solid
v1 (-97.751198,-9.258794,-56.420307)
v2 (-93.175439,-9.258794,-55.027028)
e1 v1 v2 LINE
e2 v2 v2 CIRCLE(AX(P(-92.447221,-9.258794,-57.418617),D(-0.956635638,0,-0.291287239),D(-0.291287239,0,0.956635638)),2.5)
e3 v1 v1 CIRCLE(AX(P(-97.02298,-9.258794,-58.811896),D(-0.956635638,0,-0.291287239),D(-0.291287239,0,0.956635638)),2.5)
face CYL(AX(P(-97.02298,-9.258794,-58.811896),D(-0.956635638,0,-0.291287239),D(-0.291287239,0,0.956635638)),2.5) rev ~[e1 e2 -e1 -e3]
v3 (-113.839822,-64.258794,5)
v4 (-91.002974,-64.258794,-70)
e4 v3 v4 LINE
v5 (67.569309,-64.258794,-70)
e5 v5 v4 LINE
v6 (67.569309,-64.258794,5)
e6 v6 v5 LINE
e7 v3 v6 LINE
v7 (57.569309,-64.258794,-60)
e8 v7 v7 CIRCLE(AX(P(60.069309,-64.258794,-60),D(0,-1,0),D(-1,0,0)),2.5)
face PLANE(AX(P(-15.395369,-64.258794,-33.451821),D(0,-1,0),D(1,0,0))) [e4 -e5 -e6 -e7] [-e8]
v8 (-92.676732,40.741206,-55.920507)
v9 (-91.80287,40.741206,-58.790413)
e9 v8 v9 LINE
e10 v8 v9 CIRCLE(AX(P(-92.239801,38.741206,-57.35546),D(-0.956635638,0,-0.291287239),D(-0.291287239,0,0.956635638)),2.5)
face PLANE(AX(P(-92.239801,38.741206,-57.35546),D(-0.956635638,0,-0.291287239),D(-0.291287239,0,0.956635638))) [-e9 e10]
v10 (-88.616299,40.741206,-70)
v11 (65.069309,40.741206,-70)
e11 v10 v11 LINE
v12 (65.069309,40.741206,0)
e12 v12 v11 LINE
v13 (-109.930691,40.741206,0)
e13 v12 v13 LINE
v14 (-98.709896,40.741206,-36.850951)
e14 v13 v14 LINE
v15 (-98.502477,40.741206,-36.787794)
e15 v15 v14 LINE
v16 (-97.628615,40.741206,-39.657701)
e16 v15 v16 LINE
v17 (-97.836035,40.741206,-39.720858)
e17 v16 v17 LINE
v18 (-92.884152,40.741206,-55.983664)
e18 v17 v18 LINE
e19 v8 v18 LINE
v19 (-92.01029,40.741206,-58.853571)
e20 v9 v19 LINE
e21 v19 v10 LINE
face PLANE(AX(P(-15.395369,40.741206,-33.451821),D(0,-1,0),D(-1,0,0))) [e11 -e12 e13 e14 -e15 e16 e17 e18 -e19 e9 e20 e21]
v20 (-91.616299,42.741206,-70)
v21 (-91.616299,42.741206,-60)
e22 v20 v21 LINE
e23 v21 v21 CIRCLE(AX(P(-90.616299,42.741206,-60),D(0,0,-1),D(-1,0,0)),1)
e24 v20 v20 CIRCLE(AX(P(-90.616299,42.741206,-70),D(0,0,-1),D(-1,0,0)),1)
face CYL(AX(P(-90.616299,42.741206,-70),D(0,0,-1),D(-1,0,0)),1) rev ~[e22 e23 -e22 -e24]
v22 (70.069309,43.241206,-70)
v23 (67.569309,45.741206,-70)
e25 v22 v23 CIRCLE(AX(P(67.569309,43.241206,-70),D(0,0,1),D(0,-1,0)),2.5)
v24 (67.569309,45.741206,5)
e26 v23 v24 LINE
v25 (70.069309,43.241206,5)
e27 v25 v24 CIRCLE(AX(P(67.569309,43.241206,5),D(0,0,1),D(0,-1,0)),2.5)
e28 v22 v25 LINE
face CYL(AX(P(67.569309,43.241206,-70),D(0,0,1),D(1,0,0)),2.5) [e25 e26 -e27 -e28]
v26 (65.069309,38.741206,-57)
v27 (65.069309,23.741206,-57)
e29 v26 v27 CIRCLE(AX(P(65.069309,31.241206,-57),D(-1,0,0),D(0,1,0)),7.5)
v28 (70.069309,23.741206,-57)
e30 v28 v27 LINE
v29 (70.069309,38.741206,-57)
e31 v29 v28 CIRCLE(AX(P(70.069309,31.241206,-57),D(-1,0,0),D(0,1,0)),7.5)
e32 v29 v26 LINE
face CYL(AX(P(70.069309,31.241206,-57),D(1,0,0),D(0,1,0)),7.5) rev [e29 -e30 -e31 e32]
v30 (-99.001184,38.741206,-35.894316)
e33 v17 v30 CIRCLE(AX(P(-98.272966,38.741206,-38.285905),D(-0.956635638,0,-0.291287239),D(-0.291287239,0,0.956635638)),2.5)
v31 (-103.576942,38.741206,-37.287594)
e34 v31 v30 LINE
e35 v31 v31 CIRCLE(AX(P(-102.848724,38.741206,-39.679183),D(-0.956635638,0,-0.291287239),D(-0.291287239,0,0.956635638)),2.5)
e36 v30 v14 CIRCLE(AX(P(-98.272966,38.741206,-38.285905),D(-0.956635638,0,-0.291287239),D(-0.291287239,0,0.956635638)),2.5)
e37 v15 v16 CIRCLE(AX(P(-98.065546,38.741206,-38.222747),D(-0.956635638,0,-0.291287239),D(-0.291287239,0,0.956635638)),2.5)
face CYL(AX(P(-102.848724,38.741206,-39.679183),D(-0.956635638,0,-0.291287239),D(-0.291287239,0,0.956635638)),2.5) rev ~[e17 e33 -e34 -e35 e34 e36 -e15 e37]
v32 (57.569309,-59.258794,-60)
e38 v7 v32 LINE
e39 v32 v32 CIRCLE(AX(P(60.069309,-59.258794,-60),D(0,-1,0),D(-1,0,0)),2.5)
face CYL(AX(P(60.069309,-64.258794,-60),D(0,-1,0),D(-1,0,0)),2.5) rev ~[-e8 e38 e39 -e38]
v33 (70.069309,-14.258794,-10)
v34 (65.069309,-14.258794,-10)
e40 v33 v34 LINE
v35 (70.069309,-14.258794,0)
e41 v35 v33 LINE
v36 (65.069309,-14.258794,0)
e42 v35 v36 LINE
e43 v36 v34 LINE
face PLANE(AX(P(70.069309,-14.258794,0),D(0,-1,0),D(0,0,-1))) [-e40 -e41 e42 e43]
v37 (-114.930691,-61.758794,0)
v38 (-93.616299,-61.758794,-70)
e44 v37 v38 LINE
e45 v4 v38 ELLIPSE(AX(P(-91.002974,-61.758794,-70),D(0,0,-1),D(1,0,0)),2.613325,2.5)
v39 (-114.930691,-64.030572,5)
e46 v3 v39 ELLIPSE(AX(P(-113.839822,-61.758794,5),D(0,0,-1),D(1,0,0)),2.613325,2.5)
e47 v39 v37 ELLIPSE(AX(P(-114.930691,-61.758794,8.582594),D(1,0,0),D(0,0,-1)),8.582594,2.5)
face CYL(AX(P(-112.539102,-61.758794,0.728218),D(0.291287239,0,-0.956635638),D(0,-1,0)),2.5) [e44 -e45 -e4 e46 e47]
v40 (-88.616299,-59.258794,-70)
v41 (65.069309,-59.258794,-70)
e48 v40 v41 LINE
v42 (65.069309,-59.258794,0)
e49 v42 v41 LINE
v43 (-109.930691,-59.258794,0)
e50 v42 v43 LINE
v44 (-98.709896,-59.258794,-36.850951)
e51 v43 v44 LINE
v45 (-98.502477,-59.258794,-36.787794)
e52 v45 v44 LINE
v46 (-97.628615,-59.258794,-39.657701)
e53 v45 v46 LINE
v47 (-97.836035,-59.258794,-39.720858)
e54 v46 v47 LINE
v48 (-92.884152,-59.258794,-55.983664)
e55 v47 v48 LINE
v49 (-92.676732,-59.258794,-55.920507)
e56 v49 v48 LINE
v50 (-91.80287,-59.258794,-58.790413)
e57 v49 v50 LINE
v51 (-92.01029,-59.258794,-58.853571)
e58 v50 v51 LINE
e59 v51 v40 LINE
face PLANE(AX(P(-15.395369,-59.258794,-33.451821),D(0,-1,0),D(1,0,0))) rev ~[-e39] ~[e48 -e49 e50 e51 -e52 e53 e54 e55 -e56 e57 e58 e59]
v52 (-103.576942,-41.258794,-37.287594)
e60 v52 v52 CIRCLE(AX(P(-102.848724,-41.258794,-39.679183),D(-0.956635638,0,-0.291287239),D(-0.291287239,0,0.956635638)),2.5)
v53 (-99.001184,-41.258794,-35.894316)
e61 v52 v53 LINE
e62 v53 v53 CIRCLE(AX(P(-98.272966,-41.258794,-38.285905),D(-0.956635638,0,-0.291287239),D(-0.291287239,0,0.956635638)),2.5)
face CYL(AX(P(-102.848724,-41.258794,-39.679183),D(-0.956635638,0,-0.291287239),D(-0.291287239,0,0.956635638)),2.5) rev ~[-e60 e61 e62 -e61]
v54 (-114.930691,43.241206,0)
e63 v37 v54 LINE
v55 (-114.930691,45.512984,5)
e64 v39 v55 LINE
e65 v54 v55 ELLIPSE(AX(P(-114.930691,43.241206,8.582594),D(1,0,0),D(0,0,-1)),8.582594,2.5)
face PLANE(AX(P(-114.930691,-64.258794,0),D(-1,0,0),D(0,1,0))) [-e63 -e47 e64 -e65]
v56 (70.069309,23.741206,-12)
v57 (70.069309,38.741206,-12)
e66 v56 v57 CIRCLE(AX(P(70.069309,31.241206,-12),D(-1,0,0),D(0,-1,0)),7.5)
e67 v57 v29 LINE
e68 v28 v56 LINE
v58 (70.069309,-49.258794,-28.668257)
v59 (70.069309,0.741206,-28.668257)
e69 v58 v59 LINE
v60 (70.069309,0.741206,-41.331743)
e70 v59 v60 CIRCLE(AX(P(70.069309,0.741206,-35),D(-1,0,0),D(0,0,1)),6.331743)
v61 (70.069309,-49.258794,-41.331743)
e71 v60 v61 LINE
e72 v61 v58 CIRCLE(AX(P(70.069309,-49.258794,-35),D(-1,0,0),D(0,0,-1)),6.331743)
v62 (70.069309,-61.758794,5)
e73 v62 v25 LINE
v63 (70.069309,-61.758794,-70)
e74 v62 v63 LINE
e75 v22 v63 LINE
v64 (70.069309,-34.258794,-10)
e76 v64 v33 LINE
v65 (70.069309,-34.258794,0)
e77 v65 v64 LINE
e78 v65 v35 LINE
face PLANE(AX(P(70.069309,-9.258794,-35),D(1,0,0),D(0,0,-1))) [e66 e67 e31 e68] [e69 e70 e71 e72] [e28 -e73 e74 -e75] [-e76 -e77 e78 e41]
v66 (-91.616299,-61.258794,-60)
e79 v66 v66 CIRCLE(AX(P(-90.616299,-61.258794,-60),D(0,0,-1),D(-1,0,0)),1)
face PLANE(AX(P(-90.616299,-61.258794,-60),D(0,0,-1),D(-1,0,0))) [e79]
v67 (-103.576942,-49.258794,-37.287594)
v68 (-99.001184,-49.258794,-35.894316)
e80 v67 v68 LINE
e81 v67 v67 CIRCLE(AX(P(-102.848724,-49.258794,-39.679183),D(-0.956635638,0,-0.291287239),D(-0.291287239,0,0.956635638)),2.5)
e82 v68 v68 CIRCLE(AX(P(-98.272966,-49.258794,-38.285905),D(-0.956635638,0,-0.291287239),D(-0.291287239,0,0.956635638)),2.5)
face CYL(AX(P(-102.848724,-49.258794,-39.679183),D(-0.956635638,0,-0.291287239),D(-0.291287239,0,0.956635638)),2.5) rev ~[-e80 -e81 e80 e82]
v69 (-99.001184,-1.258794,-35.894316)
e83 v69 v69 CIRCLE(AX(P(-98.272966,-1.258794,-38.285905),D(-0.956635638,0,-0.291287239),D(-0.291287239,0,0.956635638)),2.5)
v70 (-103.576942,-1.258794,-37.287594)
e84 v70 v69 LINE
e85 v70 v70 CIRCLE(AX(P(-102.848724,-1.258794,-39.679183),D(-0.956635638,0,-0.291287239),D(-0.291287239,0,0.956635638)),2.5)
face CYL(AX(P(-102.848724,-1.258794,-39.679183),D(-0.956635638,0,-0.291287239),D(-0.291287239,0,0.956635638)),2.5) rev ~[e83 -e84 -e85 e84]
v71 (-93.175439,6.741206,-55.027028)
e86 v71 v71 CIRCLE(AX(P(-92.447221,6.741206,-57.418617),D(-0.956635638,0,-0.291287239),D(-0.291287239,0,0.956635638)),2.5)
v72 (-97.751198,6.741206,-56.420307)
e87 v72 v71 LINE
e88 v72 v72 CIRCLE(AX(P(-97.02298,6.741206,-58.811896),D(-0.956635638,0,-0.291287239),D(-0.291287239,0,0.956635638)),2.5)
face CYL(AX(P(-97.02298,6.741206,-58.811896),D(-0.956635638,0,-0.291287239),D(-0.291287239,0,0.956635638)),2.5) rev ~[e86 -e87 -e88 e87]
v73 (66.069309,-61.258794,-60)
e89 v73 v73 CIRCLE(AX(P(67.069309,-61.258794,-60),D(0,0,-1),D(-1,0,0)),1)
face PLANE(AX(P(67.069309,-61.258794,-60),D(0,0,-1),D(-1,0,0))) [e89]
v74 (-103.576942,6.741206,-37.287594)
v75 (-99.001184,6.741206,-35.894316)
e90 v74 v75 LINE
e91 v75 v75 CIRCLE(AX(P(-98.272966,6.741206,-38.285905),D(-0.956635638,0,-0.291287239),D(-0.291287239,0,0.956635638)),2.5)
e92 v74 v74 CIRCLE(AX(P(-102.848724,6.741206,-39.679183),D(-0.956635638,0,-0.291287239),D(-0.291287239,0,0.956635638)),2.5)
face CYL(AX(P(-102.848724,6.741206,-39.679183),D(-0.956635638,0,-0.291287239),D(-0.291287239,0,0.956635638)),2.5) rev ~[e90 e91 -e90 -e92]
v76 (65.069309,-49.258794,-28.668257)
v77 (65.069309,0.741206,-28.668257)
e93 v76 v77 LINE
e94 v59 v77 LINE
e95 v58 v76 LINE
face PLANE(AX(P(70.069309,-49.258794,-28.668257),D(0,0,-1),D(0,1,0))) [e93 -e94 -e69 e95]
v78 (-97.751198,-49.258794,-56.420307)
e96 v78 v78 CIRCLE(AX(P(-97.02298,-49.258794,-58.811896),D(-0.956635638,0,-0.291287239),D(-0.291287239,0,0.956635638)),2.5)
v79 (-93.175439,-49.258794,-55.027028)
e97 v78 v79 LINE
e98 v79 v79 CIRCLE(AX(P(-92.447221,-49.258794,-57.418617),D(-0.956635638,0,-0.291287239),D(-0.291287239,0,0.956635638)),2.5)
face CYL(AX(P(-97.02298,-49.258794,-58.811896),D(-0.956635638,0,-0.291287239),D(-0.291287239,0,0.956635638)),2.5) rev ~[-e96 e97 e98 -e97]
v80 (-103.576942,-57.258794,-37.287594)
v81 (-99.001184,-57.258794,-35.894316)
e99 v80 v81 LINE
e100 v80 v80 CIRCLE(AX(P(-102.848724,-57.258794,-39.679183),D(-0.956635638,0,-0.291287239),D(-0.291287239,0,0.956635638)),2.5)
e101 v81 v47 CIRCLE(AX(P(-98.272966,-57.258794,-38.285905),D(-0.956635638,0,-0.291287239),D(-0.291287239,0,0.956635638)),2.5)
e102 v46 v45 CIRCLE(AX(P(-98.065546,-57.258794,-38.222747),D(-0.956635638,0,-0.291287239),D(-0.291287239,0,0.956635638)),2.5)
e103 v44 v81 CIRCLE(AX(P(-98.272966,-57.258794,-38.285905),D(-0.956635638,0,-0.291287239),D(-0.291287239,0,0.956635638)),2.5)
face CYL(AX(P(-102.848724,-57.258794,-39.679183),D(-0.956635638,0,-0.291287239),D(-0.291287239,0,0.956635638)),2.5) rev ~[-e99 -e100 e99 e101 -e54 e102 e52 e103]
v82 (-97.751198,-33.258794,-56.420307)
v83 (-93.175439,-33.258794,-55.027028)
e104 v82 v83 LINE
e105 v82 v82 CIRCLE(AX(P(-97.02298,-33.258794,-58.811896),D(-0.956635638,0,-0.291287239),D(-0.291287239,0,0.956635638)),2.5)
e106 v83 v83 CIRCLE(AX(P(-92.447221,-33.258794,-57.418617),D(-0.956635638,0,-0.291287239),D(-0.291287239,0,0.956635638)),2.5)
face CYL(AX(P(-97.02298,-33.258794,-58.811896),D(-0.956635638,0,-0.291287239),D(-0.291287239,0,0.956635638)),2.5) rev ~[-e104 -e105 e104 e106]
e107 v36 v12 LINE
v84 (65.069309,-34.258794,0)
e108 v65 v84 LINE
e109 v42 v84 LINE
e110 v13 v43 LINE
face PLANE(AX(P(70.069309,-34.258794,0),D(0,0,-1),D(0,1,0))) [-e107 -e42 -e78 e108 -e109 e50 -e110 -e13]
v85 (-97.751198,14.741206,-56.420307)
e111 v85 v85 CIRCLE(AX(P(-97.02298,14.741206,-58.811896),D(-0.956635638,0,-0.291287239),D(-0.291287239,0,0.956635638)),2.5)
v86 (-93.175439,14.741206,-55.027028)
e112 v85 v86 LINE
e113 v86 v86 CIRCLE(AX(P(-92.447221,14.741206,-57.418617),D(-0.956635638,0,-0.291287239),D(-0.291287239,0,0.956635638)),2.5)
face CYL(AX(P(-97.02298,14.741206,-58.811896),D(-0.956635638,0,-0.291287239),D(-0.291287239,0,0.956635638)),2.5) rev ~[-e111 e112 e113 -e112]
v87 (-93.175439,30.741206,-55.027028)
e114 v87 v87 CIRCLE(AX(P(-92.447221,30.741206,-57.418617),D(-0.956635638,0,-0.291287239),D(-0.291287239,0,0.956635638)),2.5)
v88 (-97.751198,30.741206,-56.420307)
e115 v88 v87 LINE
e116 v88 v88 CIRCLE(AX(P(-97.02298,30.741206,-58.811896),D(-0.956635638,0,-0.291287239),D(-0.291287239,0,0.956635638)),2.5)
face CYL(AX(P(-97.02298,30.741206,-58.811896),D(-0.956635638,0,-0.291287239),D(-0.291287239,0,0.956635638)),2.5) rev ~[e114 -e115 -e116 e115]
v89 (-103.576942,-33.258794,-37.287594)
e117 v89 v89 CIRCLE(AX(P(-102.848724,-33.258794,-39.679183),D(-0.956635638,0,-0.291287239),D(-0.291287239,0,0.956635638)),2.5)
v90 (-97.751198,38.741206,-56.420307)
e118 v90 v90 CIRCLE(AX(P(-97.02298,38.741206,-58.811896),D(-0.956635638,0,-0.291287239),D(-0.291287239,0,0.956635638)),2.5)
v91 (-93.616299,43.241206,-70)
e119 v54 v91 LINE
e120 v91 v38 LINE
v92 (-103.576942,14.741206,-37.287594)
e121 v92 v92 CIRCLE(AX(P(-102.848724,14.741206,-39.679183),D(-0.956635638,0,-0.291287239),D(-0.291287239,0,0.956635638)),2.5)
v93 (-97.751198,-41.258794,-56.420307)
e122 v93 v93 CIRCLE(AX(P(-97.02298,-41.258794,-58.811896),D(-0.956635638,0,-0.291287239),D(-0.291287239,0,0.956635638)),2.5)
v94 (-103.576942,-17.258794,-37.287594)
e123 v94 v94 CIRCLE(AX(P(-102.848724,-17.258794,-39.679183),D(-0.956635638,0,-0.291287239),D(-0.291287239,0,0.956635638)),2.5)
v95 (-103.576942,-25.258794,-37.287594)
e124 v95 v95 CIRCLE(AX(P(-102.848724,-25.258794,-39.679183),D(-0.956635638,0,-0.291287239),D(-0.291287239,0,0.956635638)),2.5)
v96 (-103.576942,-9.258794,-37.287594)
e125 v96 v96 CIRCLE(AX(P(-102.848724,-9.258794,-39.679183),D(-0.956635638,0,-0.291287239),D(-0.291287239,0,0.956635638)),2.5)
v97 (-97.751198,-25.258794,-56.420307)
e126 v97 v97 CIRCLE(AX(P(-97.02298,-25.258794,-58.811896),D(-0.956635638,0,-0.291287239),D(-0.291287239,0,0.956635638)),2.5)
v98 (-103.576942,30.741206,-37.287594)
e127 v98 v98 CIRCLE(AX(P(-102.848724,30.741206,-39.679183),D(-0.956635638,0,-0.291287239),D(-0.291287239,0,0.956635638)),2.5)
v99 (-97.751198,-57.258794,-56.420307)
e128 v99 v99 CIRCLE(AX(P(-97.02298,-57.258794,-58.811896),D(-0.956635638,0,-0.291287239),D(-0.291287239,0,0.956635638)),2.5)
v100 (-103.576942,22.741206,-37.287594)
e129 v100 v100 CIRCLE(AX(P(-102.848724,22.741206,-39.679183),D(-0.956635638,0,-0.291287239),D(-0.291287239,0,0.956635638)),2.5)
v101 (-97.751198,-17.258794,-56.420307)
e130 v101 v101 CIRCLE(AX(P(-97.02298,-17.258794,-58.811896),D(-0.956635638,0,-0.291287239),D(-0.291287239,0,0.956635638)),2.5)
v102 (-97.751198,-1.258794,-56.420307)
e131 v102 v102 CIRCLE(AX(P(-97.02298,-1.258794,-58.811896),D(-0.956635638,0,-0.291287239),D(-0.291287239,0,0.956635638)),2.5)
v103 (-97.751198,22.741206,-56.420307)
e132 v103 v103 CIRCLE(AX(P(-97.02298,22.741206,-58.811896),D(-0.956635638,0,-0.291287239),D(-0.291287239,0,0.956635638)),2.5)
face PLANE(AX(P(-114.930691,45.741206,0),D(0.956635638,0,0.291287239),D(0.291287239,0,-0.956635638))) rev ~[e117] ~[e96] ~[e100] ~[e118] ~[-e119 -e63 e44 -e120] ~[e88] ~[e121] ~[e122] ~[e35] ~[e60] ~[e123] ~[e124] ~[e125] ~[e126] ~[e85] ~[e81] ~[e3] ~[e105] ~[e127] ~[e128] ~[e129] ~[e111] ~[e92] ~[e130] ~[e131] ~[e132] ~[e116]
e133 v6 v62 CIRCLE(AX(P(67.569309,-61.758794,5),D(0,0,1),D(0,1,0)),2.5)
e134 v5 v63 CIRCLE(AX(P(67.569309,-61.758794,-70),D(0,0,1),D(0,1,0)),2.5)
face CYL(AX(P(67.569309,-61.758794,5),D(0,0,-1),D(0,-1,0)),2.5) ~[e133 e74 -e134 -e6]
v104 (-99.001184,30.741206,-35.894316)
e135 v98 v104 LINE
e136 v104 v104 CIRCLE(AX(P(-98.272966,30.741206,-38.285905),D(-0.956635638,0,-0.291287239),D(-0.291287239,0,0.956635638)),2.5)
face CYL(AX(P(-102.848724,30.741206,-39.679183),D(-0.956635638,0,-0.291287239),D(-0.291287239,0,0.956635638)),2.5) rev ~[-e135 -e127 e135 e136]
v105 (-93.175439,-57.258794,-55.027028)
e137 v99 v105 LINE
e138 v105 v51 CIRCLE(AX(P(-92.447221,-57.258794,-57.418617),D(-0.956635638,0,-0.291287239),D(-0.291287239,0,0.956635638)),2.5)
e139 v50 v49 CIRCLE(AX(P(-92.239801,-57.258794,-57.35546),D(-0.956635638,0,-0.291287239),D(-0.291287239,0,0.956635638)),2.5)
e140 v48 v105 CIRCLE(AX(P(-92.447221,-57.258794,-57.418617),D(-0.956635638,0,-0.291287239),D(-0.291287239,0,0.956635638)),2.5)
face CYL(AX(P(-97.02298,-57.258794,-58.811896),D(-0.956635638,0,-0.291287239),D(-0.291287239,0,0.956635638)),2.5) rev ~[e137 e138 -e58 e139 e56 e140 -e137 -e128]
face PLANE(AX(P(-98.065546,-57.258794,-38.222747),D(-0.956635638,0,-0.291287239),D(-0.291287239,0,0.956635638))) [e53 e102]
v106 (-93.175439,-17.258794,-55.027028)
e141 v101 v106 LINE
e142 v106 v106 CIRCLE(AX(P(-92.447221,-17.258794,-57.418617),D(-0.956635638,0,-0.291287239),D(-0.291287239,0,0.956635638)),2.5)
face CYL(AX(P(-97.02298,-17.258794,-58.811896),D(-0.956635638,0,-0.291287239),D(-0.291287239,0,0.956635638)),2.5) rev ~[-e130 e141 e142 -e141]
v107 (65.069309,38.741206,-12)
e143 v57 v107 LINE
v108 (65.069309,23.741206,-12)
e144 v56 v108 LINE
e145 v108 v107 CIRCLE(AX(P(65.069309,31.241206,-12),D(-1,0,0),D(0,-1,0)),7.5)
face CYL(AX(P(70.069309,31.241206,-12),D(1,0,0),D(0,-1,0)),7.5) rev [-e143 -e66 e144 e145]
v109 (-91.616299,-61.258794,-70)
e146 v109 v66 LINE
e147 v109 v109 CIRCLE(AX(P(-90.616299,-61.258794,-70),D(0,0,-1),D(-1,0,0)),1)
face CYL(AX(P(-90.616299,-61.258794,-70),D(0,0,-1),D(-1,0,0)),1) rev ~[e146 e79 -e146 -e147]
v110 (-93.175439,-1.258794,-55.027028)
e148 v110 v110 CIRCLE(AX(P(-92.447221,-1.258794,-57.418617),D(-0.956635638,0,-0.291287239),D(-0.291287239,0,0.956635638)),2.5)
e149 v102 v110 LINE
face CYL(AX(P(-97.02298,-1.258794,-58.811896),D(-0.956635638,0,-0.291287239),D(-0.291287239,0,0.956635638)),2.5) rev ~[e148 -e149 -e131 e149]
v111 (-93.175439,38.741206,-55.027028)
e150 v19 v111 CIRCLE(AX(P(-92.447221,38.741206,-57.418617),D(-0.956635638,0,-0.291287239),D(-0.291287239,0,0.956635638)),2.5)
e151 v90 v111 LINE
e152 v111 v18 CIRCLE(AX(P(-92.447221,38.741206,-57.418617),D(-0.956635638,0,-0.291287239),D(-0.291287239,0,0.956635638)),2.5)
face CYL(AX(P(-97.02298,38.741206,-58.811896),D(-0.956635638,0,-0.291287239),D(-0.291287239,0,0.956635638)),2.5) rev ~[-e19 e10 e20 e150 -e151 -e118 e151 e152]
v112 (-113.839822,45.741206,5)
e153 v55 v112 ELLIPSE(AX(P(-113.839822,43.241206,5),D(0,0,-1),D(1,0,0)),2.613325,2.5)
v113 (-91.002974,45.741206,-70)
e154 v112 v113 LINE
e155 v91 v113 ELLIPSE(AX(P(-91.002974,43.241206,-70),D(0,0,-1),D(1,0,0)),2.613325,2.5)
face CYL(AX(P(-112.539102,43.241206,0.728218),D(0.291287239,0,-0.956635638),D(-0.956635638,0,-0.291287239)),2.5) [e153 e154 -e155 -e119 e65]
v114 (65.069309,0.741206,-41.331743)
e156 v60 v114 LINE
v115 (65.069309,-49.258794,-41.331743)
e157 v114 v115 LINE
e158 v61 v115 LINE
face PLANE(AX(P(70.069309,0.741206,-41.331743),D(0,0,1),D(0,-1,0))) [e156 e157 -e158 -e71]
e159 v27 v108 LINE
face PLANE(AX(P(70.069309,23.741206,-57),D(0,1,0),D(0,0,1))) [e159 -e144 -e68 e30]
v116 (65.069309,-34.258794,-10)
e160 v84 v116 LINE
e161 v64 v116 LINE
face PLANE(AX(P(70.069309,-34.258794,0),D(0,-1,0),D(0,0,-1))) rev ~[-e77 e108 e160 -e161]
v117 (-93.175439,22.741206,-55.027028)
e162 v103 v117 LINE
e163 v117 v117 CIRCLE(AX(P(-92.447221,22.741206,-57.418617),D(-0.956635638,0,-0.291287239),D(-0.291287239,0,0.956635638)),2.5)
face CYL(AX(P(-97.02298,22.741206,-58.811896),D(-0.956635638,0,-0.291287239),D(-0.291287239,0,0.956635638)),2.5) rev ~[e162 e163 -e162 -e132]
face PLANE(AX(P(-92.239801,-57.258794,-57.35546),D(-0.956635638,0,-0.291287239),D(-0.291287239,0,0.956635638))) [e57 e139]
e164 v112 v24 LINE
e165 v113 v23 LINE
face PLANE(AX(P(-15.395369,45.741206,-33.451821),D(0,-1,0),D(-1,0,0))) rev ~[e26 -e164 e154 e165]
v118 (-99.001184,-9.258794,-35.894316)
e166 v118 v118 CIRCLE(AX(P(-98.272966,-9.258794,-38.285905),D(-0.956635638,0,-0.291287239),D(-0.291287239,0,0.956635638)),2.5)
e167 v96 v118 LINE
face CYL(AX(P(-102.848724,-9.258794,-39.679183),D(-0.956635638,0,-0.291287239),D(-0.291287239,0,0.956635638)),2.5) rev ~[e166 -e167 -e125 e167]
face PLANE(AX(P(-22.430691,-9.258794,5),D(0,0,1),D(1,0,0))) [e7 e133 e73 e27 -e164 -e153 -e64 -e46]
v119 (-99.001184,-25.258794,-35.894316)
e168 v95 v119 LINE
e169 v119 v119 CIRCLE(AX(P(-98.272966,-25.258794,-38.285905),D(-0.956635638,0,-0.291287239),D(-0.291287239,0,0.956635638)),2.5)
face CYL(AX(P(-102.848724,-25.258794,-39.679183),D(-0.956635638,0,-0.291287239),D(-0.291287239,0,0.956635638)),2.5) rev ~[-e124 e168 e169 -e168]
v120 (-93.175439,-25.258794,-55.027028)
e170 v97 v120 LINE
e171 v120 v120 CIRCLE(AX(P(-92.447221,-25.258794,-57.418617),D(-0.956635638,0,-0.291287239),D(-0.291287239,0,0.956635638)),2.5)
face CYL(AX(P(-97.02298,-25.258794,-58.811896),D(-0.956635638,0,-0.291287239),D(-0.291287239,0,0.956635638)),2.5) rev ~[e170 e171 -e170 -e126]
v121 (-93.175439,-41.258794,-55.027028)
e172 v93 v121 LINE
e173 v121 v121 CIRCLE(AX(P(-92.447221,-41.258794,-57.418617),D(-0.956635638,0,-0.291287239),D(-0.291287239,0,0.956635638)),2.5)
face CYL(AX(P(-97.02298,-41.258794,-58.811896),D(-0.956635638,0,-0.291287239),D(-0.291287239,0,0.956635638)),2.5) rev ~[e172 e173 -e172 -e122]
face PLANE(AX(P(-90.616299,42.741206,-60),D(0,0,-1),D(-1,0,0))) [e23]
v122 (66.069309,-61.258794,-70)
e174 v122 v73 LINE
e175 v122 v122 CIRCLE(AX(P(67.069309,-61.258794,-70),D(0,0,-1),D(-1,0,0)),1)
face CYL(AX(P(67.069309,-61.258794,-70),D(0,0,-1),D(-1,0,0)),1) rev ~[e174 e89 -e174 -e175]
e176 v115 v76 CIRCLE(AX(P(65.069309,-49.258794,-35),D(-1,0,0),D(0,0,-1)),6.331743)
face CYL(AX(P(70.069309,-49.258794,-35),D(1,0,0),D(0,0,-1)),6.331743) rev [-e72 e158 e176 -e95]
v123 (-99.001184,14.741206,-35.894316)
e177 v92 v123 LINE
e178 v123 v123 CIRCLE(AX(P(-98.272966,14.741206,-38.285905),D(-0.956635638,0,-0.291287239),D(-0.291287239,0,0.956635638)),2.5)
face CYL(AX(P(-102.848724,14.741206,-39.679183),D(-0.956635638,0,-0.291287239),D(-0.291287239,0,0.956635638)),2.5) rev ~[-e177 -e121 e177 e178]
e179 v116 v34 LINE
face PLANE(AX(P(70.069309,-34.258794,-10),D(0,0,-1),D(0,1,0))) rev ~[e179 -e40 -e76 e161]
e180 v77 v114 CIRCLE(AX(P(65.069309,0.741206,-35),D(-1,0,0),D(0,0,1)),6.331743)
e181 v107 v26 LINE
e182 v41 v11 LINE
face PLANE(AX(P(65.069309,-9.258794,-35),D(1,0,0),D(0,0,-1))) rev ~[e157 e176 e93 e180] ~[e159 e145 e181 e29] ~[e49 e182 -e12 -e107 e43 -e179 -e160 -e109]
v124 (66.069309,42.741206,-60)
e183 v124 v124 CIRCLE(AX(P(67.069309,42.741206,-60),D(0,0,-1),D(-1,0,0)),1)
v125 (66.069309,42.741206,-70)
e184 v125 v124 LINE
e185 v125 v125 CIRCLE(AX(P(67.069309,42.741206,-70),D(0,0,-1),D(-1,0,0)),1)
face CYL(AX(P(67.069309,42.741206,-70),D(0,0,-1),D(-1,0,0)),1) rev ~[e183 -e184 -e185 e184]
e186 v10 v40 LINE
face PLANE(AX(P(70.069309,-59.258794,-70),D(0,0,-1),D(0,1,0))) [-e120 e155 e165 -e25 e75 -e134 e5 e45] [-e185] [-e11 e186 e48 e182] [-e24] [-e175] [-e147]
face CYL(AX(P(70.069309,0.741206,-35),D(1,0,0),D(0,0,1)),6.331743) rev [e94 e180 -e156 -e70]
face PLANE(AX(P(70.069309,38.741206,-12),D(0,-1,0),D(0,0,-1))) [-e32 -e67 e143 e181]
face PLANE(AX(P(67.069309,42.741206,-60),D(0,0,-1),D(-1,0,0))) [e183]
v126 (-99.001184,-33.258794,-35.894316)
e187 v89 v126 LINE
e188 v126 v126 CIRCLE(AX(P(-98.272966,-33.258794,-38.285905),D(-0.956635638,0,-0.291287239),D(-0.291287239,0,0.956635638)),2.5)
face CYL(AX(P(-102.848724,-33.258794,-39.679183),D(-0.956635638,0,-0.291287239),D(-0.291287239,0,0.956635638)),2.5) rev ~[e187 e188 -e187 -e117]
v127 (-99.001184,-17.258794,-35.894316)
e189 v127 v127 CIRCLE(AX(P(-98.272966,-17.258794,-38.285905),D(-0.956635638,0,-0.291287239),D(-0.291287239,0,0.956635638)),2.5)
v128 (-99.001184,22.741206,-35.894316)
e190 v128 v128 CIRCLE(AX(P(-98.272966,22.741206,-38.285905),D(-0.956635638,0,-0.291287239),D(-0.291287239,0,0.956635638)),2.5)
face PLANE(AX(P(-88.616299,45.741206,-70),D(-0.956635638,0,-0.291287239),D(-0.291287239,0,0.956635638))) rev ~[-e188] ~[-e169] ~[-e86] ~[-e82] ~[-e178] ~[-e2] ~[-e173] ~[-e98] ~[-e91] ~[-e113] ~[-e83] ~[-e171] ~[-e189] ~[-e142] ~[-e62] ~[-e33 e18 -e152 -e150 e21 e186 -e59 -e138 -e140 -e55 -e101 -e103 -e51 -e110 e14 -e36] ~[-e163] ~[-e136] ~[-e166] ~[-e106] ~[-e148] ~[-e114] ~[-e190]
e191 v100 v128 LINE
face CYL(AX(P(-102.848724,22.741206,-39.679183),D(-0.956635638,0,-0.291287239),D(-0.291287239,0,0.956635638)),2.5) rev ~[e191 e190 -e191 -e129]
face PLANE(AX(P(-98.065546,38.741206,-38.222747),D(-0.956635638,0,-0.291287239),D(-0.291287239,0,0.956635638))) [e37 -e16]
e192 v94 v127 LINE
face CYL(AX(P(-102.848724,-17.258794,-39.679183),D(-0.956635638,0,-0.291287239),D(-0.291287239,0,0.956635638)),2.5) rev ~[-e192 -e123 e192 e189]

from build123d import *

# Parameters (mm, degrees)
ESQUISSE1_W             = 185
ESQUISSE1_H             = 110
BOSS_EXTRU_1_DEPTH      = 5
BOSS_EXTRU_2_DEPTH      = 110
BOSS_EXTRU_3_DEPTH      = 5
BOSS_EXTRU_4_DEPTH      = 5
ESQUISSE8_W             = 70
ESQUISSE8_H             = 100
BOSS_EXTRU_6_DEPTH      = 5
ESQUISSE10_R            = 2.5
ENL_V_MAT_EXTRU_1_DEPTH = 5
ESQUISSE13_R            = 1
ENL_V_MAT_EXTRU_2_DEPTH = 10
ESQUISSE15_W            = 10
ESQUISSE15_H            = 20
ENL_V_MAT_EXTRU_3_DEPTH = 10
ESQUISSE14_R            = 2.5
ENL_V_MAT_EXTRU_4_DEPTH = 10
CONG_2_R                = 2.5
CONG_3_R                = 2.5
CONG_4_R                = 2.5
CONG_5_R                = 2.5


with BuildPart() as part:
    # Esquisse1 → Boss.-Extru.1 (new body)
    with BuildSketch(Plane.XY):
        with Locations((-22.430690869, -9.25879397)):
            Rectangle(ESQUISSE1_W, ESQUISSE1_H)
    extrude(amount=BOSS_EXTRU_1_DEPTH)

    # Esquisse3 → Boss.-Extru.2 (add)
    with BuildSketch(Plane(origin=(0, 45.74120603, 0), x_dir=(1, 0, 0), z_dir=(0, 1, 0))):
        Polygon((-114.930690869, 0), (-93.616299119, 70), (-88.616299119, 70), (-109.930690869, 0), align=None)
    extrude(amount=-BOSS_EXTRU_2_DEPTH)

    # Esquisse4 → Boss.-Extru.3 (add)
    with BuildSketch(Plane(origin=(0, 45.74120603, 0), x_dir=(1, 0, 0), z_dir=(0, 1, 0))):
        Polygon((-109.930690869, 0), (-88.616299119, 70), (70.069309131, 70), (70.069309131, 0), align=None)
    extrude(amount=-BOSS_EXTRU_3_DEPTH)

    # Esquisse7 → Boss.-Extru.4 (add)
    with BuildSketch(Plane.XZ.offset(64.25879397)):
        Polygon((-109.930690869, 0), (-88.616299119, -70), (70.069309131, -70), (70.069309131, 0), align=None)
    extrude(amount=-BOSS_EXTRU_4_DEPTH)

    # Esquisse8 → Boss.-Extru.6 (add)
    with BuildSketch(Plane(origin=(70.069309131, 0, 0), x_dir=(0, 0, -1), z_dir=(1, 0, 0))):
        with Locations((35, -9.25879397)):
            Rectangle(ESQUISSE8_W, ESQUISSE8_H)
        with BuildLine():
            Line((41.331742872, 0.74120603), (41.331742872, -49.25879397))
            ThreePointArc((41.331742872, -49.25879397), (35, -55.590536842), (28.668257128, -49.25879397))
            Line((28.668257128, -49.25879397), (28.668257128, 0.74120603))
            ThreePointArc((28.668257128, 0.74120603), (35, 7.072948902), (41.331742872, 0.74120603))
        make_face(mode=Mode.SUBTRACT)
        with BuildLine():
            Line((12, 38.74120603), (57, 38.74120603))
            ThreePointArc((57, 38.74120603), (64.5, 31.24120603), (57, 23.74120603))
            Line((57, 23.74120603), (12, 23.74120603))
            ThreePointArc((12, 23.74120603), (4.5, 31.24120603), (12, 38.74120603))
        make_face(mode=Mode.SUBTRACT)
    extrude(amount=-BOSS_EXTRU_6_DEPTH)

    # Esquisse10 → Enlèv. mat.-Extru.1 (cut)
    with BuildSketch(Plane(origin=(-105.179022211, 0, -32.026098333), x_dir=(-0.291287239, 0, 0.956635638), z_dir=(-0.956635638, 0, -0.291287239))):
        with Locations((-8, 38.74120603)):
            Circle(ESQUISSE10_R)
        with Locations((-8, 30.74120603)):
            Circle(ESQUISSE10_R)
        with Locations((-8, 22.74120603)):
            Circle(ESQUISSE10_R)
        with Locations((-8, 14.74120603)):
            Circle(ESQUISSE10_R)
        with Locations((-8, 6.74120603)):
            Circle(ESQUISSE10_R)
        with Locations((-8, -1.25879397)):
            Circle(ESQUISSE10_R)
        with Locations((-8, -9.25879397)):
            Circle(ESQUISSE10_R)
        with Locations((-8, -17.25879397)):
            Circle(ESQUISSE10_R)
        with Locations((-8, -25.25879397)):
            Circle(ESQUISSE10_R)
        with Locations((-8, -33.25879397)):
            Circle(ESQUISSE10_R)
        with Locations((-8, -41.25879397)):
            Circle(ESQUISSE10_R)
        with Locations((-8, -49.25879397)):
            Circle(ESQUISSE10_R)
        with Locations((-8, -57.25879397)):
            Circle(ESQUISSE10_R)
        with Locations((-28, -57.25879397)):
            Circle(ESQUISSE10_R)
        with Locations((-28, -49.25879397)):
            Circle(ESQUISSE10_R)
        with Locations((-28, -41.25879397)):
            Circle(ESQUISSE10_R)
        with Locations((-28, -9.25879397)):
            Circle(ESQUISSE10_R)
        with Locations((-28, -17.25879397)):
            Circle(ESQUISSE10_R)
        with Locations((-28, -25.25879397)):
            Circle(ESQUISSE10_R)
        with Locations((-28, -33.25879397)):
            Circle(ESQUISSE10_R)
        with Locations((-28, -1.25879397)):
            Circle(ESQUISSE10_R)
        with Locations((-28, 6.74120603)):
            Circle(ESQUISSE10_R)
        with Locations((-28, 14.74120603)):
            Circle(ESQUISSE10_R)
        with Locations((-28, 22.74120603)):
            Circle(ESQUISSE10_R)
        with Locations((-28, 30.74120603)):
            Circle(ESQUISSE10_R)
        with Locations((-28, 38.74120603)):
            Circle(ESQUISSE10_R)
    extrude(amount=-ENL_V_MAT_EXTRU_1_DEPTH, mode=Mode.SUBTRACT)

    # Esquisse13 → Enlèv. mat.-Extru.2 (cut)
    with BuildSketch(Plane(origin=(0, 0, -70), x_dir=(-1, 0, 0), z_dir=(0, 0, -1))):
        with Locations((-67.069309131, 42.74120603)):
            Circle(ESQUISSE13_R)
        with Locations((-67.069309131, -61.25879397)):
            Circle(ESQUISSE13_R)
        with Locations((90.616299119, -61.25879397)):
            Circle(ESQUISSE13_R)
        with Locations((90.616299119, 42.74120603)):
            Circle(ESQUISSE13_R)
    extrude(amount=-ENL_V_MAT_EXTRU_2_DEPTH, mode=Mode.SUBTRACT)

    # Esquisse15 → Enlèv. mat.-Extru.3 (cut)
    with BuildSketch(Plane(origin=(70.069309131, 0, 0), x_dir=(0, 0, -1), z_dir=(1, 0, 0))):
        with Locations((5, -24.25879397)):
            Rectangle(ESQUISSE15_W, ESQUISSE15_H)
    extrude(amount=-ENL_V_MAT_EXTRU_3_DEPTH, mode=Mode.SUBTRACT)

    # Esquisse14 → Enlèv. mat.-Extru.4 (cut)
    with BuildSketch(Plane(origin=(0, -64.25879397, 0), x_dir=(-1, 0, 0), z_dir=(0, -1, 0))):
        with Locations((-60.069309131, 60)):
            Circle(ESQUISSE14_R)
    extrude(amount=-ENL_V_MAT_EXTRU_4_DEPTH, mode=Mode.SUBTRACT)

    # Congé2
    cong_2_edges = [part.edges().sort_by_distance(p)[0] for p in [
        (-104.273494994, -64.25879397, -35),
    ]]
    fillet(cong_2_edges, radius=CONG_2_R)

    # Congé3
    cong_3_edges = [part.edges().sort_by_distance(p)[0] for p in [
        (-104.273494994, 45.74120603, -35),
    ]]
    fillet(cong_3_edges, radius=CONG_3_R)

    # Congé4
    cong_4_edges = [part.edges().sort_by_distance(p)[0] for p in [
        (70.069309131, -64.25879397, -32.5),
    ]]
    fillet(cong_4_edges, radius=CONG_4_R)

    # Congé5
    cong_5_edges = [part.edges().sort_by_distance(p)[0] for p in [
        (70.069309131, 45.74120603, -32.5),
    ]]
    fillet(cong_5_edges, radius=CONG_5_R)


solid = part.part
